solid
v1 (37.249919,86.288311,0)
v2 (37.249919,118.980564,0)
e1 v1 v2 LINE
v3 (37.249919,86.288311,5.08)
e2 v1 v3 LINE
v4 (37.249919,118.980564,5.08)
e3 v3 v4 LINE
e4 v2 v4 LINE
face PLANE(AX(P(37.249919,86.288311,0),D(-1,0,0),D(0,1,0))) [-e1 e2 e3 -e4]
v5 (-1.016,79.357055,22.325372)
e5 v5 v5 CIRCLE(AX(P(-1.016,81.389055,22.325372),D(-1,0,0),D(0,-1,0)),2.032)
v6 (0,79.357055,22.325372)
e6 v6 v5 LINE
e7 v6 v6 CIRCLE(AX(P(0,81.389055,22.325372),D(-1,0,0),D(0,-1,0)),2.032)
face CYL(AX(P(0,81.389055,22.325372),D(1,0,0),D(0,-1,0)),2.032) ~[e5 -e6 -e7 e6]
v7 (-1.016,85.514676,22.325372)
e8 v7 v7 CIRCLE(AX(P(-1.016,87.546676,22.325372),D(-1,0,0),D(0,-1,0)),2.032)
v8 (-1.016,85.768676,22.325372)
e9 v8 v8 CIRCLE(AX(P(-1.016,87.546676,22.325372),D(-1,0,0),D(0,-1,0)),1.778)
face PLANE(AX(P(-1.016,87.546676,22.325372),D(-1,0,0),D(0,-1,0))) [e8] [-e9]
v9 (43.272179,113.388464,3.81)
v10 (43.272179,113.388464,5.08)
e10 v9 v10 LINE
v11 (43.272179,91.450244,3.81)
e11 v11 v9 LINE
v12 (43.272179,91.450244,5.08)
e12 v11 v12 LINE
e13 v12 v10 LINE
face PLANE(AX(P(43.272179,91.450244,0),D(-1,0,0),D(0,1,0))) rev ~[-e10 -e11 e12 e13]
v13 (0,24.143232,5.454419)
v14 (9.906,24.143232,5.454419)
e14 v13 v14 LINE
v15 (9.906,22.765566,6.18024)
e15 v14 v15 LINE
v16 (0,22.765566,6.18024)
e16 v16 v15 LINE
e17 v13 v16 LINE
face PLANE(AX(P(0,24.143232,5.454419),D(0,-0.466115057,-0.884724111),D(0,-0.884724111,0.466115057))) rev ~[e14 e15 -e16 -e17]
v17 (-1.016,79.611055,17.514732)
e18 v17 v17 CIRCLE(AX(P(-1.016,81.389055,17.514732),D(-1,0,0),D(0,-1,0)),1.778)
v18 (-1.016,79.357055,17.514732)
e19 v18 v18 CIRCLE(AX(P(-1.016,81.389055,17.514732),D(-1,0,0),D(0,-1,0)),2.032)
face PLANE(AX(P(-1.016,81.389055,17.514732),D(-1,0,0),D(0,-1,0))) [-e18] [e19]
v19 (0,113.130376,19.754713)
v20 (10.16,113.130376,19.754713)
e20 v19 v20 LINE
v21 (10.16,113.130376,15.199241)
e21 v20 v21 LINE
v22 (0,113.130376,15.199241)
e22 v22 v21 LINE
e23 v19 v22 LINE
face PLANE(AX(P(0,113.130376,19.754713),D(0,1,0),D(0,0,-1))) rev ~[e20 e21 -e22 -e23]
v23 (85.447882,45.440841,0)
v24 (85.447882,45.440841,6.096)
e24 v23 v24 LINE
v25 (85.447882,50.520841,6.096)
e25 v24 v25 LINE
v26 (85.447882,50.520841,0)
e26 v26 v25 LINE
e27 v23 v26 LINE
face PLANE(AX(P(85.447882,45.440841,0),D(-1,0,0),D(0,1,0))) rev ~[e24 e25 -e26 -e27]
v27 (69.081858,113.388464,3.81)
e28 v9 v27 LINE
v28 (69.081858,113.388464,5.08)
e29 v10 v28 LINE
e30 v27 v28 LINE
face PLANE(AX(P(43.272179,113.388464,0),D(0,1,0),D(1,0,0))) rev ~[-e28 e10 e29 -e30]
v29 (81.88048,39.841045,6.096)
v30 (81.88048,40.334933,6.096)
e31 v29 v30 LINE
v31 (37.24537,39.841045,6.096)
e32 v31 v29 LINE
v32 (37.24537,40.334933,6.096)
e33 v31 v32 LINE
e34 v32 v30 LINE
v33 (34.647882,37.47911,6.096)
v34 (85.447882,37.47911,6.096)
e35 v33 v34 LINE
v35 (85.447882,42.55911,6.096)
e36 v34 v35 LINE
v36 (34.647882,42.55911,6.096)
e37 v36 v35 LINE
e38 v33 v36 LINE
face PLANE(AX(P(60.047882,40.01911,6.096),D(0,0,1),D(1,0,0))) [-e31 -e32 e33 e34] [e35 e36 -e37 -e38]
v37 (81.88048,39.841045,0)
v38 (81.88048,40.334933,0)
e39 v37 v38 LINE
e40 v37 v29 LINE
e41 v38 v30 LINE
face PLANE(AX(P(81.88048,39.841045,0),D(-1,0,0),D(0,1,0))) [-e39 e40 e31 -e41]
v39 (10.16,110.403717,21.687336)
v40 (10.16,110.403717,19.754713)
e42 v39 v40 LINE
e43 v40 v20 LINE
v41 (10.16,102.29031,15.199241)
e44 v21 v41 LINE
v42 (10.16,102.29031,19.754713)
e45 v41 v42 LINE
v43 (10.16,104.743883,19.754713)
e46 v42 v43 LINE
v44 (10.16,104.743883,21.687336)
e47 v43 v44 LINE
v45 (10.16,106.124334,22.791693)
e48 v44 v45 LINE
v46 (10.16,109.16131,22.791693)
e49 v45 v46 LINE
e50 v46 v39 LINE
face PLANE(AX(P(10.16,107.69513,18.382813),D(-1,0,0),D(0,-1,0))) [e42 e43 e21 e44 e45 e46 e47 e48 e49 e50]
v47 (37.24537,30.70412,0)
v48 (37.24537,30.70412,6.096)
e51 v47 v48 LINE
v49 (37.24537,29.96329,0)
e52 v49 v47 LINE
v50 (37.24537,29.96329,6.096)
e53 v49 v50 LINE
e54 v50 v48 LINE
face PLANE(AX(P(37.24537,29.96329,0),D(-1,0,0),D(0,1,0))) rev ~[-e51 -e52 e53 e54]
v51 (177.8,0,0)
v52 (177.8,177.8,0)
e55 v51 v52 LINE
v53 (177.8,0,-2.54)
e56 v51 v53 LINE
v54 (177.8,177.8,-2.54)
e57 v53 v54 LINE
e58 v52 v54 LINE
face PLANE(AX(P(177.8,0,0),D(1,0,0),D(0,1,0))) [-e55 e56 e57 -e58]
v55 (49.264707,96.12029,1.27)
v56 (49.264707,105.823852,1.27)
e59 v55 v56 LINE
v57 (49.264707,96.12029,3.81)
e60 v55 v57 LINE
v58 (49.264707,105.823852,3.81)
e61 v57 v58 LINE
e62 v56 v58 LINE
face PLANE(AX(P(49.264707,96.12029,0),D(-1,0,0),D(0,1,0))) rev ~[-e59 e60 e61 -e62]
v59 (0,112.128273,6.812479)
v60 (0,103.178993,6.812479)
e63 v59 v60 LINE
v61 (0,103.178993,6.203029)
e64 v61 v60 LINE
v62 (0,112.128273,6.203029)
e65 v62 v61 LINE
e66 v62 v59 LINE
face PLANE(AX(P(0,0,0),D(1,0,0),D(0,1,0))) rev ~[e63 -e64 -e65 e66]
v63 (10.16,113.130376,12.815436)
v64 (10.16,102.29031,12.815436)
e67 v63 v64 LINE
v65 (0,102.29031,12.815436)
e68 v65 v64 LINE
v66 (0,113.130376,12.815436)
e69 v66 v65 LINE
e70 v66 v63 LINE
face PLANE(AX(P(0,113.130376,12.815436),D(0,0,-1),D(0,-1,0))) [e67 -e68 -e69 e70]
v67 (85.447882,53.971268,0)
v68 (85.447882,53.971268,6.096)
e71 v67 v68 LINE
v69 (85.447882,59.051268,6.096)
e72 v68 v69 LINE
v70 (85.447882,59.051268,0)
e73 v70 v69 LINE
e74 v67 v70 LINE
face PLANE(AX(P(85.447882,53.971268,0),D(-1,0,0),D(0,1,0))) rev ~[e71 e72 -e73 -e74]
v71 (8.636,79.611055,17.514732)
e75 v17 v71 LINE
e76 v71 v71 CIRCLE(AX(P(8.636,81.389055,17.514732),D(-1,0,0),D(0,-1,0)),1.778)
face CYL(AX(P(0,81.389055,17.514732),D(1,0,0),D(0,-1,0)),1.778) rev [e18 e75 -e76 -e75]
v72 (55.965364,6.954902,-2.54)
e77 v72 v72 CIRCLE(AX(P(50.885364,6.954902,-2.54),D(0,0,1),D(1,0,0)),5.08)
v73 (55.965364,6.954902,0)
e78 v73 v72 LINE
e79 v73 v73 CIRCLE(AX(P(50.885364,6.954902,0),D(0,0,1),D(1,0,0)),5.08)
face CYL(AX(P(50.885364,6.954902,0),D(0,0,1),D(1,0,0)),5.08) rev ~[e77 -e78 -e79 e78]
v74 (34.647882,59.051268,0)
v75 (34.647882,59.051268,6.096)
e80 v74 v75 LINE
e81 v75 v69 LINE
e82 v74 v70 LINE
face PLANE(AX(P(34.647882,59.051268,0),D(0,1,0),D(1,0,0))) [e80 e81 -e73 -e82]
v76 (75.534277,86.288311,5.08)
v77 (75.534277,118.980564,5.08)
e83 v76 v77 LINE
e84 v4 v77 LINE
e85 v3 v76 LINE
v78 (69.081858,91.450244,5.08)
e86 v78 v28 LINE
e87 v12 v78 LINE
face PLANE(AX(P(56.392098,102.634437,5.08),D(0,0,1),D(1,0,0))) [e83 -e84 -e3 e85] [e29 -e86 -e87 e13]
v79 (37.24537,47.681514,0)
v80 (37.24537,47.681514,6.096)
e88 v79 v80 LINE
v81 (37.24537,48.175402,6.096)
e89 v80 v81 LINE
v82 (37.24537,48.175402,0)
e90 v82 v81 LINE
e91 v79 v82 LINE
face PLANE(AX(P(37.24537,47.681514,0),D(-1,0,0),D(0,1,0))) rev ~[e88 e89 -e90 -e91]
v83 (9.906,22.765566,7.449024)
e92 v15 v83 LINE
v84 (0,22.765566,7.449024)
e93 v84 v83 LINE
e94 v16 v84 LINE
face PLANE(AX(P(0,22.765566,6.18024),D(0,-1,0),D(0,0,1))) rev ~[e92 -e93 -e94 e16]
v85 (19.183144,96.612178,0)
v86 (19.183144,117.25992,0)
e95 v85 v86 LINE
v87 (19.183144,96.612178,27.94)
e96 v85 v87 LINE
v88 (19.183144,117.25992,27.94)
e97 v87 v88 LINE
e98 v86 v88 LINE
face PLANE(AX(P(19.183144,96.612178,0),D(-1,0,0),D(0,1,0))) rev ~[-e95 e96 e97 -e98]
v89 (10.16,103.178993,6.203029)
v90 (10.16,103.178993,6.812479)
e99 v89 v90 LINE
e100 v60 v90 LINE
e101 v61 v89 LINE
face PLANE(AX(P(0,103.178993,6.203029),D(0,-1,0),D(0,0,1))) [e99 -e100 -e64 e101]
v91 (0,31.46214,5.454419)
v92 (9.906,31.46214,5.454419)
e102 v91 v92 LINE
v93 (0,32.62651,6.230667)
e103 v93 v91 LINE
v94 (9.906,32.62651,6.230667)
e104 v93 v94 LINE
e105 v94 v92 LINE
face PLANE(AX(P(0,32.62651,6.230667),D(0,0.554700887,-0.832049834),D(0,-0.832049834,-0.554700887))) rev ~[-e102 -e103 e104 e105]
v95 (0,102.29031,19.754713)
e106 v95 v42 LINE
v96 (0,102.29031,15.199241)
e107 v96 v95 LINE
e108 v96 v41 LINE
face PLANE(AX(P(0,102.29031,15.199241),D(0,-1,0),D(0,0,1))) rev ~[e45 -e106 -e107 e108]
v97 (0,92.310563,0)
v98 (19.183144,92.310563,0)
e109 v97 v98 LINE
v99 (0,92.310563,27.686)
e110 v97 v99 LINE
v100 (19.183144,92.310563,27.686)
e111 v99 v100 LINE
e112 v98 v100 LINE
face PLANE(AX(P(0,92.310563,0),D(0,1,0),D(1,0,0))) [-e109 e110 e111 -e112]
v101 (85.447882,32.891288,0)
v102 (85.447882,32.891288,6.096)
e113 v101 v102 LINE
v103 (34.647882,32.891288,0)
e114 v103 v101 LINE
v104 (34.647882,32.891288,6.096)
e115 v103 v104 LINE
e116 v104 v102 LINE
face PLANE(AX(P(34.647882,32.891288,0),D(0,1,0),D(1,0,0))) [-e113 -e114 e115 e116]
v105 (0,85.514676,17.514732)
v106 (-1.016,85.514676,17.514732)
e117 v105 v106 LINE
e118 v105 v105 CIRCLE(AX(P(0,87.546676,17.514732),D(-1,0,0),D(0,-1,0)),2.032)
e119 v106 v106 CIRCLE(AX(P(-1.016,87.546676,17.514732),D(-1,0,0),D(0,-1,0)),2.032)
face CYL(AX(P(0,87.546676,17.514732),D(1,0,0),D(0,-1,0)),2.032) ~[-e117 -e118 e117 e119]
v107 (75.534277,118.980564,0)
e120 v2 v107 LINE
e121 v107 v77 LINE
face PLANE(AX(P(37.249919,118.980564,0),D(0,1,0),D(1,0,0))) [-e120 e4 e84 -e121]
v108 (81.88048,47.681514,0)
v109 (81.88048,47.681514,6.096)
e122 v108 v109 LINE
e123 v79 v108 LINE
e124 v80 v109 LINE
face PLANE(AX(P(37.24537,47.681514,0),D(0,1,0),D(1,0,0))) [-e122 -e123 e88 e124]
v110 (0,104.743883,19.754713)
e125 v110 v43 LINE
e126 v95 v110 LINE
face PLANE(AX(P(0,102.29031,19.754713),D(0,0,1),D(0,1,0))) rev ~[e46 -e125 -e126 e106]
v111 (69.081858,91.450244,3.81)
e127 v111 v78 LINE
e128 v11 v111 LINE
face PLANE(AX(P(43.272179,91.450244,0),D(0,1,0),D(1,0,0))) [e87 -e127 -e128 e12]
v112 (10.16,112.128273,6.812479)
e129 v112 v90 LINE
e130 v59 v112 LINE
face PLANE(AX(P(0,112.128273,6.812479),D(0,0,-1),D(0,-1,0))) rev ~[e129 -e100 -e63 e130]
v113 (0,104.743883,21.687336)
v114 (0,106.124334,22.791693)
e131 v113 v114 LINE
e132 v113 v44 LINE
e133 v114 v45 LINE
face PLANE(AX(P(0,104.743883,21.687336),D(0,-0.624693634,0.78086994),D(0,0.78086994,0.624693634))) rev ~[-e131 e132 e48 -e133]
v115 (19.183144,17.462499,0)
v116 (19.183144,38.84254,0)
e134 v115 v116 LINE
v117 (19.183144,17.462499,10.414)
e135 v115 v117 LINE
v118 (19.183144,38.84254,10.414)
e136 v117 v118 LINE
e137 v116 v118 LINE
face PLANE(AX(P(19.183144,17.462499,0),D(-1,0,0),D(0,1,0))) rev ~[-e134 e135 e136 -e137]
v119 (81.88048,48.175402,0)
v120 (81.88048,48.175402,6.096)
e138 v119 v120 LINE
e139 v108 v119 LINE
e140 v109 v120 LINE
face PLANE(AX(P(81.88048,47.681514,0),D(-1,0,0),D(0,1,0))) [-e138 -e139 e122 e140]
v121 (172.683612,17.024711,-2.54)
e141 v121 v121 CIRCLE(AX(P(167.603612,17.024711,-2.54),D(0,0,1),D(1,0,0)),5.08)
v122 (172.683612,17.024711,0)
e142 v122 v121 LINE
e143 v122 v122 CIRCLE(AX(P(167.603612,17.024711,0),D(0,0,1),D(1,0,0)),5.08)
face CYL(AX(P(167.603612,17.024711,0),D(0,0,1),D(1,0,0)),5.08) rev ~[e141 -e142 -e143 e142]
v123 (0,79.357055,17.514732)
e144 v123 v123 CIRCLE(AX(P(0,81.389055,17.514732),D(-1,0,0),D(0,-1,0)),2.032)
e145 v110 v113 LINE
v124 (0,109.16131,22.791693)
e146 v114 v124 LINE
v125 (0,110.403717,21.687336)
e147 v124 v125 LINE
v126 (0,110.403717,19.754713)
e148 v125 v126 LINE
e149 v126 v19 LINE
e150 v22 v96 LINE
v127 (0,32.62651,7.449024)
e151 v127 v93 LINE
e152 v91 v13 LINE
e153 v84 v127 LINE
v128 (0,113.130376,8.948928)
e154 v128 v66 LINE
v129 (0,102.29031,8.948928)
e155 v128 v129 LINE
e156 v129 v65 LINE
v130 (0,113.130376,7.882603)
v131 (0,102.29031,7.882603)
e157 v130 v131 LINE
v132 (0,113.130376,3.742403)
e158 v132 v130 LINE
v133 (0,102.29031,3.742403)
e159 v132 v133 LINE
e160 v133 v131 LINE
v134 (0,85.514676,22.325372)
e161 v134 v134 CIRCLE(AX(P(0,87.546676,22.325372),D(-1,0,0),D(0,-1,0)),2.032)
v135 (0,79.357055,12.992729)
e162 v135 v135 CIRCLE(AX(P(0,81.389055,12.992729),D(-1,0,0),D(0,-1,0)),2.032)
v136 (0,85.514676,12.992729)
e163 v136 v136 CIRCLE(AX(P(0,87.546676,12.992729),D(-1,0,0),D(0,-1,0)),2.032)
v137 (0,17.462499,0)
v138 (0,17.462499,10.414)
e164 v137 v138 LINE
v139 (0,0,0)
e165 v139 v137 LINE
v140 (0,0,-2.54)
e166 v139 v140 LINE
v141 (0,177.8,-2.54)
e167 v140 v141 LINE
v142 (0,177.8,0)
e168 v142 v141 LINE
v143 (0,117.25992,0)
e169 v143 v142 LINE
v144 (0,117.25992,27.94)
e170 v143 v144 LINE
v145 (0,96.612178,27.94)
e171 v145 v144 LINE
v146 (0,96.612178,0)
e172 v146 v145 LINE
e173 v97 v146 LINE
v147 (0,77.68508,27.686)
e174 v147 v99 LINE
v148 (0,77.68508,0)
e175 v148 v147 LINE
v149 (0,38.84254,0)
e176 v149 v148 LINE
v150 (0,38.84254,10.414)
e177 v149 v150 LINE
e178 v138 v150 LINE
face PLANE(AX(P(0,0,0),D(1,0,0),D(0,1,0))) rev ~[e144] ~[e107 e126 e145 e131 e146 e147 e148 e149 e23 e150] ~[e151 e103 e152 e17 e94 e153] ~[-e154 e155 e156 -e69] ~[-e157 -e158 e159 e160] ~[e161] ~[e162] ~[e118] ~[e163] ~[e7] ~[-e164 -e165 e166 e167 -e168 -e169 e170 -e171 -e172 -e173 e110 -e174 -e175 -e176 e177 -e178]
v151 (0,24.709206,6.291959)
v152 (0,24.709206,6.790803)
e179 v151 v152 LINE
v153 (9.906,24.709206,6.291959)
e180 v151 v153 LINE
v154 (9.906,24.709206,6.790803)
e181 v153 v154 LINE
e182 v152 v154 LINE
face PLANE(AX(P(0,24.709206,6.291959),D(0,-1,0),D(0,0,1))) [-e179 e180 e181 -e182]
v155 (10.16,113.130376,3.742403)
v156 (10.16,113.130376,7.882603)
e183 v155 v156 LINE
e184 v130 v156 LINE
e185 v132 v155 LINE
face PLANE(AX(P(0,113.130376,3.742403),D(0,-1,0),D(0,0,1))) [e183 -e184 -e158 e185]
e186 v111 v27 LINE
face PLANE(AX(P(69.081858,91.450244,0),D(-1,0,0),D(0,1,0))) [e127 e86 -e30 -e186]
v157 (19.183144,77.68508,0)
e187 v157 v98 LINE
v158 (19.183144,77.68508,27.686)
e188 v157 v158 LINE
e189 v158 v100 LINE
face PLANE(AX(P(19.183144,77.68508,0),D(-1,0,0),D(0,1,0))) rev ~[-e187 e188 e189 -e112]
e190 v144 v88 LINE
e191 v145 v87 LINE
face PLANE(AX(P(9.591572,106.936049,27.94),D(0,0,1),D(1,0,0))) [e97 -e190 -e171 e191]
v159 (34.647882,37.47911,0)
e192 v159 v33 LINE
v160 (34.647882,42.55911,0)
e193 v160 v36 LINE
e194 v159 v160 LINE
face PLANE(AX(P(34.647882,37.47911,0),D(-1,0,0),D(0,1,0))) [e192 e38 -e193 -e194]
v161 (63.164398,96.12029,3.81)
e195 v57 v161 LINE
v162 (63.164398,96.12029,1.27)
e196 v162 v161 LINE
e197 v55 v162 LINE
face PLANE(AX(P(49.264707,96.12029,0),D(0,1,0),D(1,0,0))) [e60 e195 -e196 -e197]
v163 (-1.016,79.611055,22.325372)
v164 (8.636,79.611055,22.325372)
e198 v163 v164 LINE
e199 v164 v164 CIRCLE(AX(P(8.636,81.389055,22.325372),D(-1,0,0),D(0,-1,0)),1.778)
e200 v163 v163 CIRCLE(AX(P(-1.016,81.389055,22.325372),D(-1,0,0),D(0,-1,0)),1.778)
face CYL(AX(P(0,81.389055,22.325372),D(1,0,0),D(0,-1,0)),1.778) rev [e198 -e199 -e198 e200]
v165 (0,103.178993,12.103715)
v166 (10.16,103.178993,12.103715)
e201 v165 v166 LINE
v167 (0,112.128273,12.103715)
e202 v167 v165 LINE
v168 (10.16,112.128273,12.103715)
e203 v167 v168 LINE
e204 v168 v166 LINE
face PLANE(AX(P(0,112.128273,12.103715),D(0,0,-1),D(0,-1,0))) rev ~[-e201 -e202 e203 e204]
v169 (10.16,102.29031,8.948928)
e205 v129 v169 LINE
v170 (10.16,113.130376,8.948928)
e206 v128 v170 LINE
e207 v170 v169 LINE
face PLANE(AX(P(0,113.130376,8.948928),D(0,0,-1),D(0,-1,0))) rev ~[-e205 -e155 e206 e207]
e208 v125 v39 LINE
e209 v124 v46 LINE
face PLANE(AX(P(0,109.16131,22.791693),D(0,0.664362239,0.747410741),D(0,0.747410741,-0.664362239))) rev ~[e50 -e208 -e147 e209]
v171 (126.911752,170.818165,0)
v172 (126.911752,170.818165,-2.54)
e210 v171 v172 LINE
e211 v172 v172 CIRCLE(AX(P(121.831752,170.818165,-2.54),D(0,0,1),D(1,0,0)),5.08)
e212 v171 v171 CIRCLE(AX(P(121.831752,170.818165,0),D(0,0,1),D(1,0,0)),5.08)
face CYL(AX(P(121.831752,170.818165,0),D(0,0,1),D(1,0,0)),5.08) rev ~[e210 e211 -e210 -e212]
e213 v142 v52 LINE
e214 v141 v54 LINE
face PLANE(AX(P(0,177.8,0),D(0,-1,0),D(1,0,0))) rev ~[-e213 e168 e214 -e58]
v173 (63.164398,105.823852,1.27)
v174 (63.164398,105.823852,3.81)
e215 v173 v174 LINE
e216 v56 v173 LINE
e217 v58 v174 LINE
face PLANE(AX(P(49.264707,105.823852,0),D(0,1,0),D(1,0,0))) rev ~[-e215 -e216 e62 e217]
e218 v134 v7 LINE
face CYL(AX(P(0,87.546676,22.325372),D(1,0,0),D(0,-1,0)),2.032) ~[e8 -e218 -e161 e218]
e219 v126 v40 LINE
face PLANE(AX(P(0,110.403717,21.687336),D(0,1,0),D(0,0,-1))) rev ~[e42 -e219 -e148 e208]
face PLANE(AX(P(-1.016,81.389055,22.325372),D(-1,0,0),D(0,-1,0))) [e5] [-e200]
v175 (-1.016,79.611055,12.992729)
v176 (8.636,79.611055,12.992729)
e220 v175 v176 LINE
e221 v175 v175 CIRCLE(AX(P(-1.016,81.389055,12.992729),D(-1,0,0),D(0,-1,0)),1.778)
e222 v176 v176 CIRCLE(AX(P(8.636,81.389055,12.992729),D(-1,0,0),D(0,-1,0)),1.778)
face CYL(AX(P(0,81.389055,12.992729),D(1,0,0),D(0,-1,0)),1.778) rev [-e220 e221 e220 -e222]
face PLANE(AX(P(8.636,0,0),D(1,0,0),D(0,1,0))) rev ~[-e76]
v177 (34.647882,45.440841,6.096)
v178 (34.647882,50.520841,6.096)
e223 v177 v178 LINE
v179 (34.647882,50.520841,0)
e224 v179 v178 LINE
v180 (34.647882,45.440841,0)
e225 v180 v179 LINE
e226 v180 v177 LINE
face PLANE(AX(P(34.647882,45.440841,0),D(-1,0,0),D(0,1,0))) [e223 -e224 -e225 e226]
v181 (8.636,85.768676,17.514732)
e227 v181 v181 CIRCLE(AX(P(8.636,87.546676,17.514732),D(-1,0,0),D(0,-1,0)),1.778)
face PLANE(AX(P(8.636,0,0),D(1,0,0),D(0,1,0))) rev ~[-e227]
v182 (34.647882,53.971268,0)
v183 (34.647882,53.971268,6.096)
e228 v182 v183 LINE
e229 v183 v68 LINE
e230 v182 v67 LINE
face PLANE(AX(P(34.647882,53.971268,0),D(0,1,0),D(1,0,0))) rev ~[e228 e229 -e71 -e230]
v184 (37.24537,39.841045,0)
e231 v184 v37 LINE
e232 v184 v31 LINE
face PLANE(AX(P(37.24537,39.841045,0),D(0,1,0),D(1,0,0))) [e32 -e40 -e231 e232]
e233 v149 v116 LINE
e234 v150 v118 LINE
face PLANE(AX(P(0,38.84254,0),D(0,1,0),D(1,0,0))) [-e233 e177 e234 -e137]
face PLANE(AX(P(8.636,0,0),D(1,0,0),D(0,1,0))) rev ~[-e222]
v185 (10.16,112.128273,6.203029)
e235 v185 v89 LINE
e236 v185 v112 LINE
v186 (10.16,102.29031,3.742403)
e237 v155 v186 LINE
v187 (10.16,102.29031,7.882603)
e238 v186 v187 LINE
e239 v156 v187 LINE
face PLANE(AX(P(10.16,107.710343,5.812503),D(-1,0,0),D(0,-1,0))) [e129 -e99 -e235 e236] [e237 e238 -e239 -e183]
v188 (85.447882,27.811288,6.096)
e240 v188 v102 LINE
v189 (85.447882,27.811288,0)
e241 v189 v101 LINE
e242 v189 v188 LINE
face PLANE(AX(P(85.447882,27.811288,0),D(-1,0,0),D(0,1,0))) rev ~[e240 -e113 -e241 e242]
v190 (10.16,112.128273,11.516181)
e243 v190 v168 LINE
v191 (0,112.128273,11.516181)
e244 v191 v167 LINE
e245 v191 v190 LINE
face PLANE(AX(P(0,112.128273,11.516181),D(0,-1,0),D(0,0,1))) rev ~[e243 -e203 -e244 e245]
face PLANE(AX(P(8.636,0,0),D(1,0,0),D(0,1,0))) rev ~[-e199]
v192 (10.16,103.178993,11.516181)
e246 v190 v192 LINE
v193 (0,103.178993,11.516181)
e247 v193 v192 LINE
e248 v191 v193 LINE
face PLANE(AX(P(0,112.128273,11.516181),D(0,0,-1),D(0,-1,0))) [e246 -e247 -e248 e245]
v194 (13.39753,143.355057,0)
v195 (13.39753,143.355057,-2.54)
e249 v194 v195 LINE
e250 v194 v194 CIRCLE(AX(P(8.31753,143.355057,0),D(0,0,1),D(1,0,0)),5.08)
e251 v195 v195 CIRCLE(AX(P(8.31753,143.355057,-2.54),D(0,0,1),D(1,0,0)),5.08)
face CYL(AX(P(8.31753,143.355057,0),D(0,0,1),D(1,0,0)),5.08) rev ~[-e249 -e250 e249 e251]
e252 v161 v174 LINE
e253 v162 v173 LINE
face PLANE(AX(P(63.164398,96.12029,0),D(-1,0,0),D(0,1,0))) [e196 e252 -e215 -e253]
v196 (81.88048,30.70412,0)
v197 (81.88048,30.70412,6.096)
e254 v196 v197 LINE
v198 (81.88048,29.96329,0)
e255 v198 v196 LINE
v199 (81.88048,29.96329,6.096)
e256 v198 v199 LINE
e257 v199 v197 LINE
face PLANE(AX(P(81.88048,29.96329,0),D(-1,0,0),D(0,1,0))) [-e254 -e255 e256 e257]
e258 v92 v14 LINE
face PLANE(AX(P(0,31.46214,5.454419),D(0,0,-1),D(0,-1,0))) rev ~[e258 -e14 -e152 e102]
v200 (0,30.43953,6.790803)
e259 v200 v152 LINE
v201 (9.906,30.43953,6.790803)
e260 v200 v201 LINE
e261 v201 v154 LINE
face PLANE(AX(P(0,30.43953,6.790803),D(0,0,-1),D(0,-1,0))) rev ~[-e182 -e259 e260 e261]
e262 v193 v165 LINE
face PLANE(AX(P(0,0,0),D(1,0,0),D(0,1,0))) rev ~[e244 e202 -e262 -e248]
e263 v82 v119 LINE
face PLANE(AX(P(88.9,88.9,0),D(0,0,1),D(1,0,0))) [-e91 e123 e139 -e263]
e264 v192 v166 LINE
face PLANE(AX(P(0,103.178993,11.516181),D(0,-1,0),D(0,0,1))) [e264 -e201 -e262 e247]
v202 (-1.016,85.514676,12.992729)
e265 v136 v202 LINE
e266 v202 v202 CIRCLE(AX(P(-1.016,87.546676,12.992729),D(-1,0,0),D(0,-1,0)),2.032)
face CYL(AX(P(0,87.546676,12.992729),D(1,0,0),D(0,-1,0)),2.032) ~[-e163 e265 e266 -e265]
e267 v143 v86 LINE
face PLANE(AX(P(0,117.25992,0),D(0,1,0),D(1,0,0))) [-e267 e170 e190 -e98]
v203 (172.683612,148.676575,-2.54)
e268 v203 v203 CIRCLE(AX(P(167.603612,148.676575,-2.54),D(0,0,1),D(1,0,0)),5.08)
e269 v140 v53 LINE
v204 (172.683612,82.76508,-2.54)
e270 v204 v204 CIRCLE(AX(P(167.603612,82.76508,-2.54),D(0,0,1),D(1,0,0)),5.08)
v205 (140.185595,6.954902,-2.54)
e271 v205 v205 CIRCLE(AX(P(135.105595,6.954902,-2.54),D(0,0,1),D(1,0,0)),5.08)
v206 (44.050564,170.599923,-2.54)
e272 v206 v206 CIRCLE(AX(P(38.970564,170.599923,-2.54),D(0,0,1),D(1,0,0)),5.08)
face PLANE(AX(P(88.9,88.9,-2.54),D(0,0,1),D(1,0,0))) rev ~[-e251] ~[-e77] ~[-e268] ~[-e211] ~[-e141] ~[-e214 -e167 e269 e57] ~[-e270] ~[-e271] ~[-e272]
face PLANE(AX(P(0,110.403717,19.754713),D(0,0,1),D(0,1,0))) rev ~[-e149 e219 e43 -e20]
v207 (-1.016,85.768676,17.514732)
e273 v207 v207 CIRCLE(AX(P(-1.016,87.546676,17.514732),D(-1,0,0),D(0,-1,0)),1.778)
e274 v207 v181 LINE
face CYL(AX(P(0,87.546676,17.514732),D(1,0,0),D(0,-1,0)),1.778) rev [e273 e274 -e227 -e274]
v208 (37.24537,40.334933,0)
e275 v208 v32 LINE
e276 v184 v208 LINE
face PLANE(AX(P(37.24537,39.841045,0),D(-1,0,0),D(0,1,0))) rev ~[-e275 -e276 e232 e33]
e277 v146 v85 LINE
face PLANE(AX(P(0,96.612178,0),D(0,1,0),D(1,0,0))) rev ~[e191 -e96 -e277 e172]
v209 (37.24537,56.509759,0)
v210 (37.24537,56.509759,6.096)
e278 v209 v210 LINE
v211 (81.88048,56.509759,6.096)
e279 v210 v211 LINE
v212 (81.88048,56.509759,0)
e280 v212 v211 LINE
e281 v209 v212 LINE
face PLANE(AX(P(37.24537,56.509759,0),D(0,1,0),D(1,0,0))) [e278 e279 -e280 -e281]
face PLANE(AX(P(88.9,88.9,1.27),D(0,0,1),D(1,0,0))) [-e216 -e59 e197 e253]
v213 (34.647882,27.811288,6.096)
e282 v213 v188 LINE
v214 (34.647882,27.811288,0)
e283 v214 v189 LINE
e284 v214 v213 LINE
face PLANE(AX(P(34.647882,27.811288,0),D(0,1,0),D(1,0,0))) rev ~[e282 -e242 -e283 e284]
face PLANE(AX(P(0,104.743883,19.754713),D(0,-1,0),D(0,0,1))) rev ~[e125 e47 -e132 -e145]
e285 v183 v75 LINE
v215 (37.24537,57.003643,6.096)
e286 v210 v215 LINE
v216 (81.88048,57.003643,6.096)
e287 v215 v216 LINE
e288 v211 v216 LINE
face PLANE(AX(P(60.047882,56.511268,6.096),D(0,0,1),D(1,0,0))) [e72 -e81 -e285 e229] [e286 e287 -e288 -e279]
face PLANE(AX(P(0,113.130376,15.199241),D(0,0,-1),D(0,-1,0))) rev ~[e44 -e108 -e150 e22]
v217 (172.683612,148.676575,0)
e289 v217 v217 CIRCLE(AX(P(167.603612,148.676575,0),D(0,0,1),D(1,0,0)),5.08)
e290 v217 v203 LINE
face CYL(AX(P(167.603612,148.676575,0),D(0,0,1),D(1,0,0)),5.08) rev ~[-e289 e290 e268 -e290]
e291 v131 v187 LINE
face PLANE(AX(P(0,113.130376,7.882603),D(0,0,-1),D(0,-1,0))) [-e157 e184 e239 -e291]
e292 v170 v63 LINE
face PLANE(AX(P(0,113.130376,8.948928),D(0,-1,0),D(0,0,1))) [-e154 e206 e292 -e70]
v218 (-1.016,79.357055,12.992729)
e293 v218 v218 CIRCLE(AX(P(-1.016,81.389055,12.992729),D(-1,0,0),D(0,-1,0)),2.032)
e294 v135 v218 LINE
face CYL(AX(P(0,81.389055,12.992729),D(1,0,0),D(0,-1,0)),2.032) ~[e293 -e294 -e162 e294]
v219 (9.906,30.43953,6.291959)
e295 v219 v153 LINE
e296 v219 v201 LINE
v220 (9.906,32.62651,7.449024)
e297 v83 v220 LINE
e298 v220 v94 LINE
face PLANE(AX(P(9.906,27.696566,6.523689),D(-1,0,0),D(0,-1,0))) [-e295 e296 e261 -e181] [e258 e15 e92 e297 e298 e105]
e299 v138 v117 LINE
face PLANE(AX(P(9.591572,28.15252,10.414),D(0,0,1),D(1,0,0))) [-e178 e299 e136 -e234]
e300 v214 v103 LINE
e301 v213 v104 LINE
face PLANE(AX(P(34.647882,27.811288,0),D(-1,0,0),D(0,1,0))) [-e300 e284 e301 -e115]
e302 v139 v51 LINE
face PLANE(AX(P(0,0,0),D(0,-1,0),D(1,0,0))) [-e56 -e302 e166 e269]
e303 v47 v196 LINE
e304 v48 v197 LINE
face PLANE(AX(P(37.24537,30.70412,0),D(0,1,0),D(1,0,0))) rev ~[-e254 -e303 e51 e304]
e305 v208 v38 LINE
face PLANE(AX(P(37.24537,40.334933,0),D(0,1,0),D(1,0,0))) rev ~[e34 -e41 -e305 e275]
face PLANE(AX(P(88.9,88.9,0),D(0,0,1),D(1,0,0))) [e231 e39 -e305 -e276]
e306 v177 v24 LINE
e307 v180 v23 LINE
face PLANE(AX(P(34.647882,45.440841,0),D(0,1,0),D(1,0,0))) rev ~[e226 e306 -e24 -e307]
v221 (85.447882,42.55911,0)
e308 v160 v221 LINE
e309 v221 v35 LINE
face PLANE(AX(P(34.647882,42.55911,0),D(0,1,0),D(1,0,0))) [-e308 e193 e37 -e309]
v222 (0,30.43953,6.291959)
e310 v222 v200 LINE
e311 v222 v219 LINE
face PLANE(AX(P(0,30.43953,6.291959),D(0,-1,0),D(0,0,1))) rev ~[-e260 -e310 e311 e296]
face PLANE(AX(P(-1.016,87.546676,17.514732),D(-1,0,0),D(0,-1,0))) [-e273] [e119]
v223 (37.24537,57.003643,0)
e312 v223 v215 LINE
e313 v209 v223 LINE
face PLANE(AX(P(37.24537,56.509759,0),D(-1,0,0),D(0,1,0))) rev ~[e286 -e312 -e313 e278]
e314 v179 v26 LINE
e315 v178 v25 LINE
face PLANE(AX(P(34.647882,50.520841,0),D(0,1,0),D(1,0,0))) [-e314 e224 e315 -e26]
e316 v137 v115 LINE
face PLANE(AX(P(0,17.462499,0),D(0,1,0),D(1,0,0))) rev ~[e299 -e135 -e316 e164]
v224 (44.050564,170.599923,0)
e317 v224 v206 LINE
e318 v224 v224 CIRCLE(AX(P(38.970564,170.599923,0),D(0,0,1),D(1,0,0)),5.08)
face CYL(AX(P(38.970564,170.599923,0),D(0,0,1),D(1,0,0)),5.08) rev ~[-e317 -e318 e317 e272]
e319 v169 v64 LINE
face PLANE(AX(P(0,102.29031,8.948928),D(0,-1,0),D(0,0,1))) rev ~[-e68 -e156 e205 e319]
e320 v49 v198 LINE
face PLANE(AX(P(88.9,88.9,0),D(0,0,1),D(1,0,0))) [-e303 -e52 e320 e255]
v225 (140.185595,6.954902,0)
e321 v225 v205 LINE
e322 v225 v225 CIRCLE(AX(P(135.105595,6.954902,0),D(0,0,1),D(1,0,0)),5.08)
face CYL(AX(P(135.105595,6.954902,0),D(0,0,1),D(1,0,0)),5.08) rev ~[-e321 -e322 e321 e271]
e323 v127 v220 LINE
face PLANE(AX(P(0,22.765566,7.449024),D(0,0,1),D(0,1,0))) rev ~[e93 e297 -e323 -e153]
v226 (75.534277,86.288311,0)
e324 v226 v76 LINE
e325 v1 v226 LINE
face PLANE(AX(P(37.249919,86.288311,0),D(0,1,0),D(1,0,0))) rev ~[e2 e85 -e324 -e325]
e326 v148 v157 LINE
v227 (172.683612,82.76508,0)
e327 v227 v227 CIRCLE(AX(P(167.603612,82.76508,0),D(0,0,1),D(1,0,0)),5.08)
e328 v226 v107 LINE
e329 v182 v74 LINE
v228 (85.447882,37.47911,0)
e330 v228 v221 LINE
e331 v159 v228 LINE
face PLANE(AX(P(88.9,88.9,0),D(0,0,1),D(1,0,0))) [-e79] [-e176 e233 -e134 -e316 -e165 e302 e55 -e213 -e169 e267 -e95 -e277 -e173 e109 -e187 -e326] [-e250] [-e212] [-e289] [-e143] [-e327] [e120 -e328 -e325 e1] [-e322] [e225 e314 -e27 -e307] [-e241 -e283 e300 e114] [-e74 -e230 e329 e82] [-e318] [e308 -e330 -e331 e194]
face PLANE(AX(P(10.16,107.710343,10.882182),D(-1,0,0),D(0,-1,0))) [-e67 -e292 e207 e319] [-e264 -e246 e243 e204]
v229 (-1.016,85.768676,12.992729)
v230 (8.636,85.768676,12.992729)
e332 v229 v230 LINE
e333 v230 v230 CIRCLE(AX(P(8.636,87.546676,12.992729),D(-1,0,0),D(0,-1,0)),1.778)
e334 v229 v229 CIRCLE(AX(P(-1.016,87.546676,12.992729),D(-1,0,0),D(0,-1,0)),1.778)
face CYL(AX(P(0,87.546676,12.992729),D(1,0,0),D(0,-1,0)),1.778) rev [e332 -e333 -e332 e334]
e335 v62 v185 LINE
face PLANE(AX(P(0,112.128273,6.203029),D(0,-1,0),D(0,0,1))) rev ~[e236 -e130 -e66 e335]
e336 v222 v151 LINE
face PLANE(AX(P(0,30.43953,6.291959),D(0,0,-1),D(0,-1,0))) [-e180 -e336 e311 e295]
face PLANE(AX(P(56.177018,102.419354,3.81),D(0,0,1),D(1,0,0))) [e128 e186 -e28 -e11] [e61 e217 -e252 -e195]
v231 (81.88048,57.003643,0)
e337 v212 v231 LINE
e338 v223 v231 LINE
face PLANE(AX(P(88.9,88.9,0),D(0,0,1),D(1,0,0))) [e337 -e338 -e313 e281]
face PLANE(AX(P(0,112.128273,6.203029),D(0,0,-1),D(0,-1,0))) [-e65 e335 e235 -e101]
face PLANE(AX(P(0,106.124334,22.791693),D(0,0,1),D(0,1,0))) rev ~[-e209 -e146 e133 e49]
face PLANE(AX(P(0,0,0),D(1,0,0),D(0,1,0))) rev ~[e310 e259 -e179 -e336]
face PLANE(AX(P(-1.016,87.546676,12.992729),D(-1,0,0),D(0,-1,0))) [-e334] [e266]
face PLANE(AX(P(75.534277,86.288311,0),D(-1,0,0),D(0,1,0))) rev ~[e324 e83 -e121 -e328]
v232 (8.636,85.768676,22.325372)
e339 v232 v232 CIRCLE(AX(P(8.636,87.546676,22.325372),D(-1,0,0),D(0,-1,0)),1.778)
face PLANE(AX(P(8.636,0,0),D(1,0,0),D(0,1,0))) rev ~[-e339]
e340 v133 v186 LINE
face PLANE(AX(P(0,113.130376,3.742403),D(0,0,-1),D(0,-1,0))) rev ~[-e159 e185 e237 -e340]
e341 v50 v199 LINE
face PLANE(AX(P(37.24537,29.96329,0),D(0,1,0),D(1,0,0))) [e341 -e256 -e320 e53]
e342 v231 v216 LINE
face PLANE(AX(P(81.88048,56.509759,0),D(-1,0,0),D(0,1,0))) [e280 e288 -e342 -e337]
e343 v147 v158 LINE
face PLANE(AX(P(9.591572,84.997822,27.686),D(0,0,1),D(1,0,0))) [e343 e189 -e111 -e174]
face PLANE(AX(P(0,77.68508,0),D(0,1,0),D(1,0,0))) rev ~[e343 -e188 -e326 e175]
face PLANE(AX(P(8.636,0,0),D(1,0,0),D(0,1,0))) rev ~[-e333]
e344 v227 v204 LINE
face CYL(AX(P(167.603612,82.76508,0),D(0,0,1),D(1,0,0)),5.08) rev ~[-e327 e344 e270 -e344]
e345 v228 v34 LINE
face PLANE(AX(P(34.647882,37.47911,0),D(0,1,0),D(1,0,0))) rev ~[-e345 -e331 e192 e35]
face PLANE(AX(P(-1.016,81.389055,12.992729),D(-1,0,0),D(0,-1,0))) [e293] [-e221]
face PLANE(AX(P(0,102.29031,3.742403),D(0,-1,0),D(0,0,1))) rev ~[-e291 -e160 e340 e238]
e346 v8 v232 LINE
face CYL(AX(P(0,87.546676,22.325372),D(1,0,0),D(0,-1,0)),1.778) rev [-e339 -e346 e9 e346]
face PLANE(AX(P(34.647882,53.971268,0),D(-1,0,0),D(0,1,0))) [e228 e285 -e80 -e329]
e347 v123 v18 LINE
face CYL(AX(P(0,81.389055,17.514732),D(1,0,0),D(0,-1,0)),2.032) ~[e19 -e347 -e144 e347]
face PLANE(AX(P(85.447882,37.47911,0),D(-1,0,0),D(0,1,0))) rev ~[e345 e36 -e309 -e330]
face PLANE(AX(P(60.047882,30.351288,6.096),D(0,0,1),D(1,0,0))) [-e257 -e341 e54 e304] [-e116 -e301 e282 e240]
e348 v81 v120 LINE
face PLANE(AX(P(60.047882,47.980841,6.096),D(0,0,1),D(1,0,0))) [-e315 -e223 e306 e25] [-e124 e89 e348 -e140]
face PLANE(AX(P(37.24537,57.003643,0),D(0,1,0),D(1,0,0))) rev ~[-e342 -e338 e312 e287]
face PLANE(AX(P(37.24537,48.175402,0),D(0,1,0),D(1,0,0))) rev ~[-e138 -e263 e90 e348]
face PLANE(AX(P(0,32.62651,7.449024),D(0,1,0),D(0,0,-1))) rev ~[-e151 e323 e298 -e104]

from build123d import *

# Parameters (mm, degrees)
F0_W      = 177.8
F0_H      = 177.8
F1_DEPTH  = 2.54
F2_W      = 19.1831439734
F2_H      = 20.6477418542
F3_DEPTH  = 27.94
F4_W      = 10.8400657773
F4_H      = 3.8665086031
F4_W_2    = 8.9492797852
F4_H_2    = 0.5875341594
F4_H_3    = 4.1402
F4_H_4    = 0.6094495766
F5_DEPTH  = 10.16
F6_W      = 19.1831439734
F6_H      = 14.6254822612
F7_DEPTH  = 27.686
F8_R      = 2.032
F8_R_2    = 1.778
F9_DEPTH  = 1.016
F10_DEPTH = 8.636
F11_W     = 19.1831439734
F11_H     = 21.3800407946
F12_DEPTH = 10.414
F13_W     = 5.7303234935
F13_H     = 0.4988447763
F14_DEPTH = 9.906
F15_R     = 5.08
F16_DEPTH = 2.54
F17_W     = 38.2843576372
F17_H     = 32.6922535896
F17_W_2   = 25.8096791804
F17_H_2   = 21.9382196665
F18_DEPTH = 5.08
F17_W_3   = 13.8996914029
F17_H_3   = 9.7035616636
F19_DEPTH = 3.81
F20_DEPTH = 1.27
F21_W     = 50.8
F21_H     = 5.08
F21_W_2   = 44.6351096034
F21_H_2   = 0.4938840866
F21_H_3   = 0.4938878119
F21_H_4   = 0.7408298552
F22_DEPTH = 6.096


with BuildPart() as f1:
    # F0 (on Top) → F1 (new body)
    with BuildSketch(Plane.XY):
        with Locations((88.9, 88.9)):
            Rectangle(F0_W, F0_H)
    extrude(amount=-F1_DEPTH)

    # F2 (on face) → F3 (join)
    with BuildSketch(Plane.XY):
        with Locations((9.5915719867, 106.9360487163)):
            Rectangle(F2_W, F2_H)
    extrude(amount=F3_DEPTH)

    # F4 (on face) → F5 (cut)
    with BuildSketch(Plane(origin=(0, 0, 0), x_dir=(0, -1, 0), z_dir=(-1, 0, 0))):
        Polygon((-113.1303757429, 19.7547134012), (-113.1303757429, 15.1992412284), (-102.2903099656, 15.1992412284), (-102.2903099656, 19.7547134012), (-104.7438830137, 19.7547134012), (-104.7438830137, 21.687336266), (-106.1243340373, 22.7916929871), (-109.1613098979, 22.7916929871), (-110.4037165642, 21.687336266), (-110.4037165642, 19.7547134012), align=None)
        with Locations((-107.7103428543, 10.8821820468)):
            Rectangle(F4_W, F4_H)
        with Locations((-107.65363276, 11.8099479005)):
            Rectangle(F4_W_2, F4_H_2, mode=Mode.SUBTRACT)
        with Locations((-107.7103428543, 5.8125033508)):
            Rectangle(F4_W, F4_H_3)
        with Locations((-107.65363276, 6.507754093)):
            Rectangle(F4_W_2, F4_H_4, mode=Mode.SUBTRACT)
    extrude(amount=-F5_DEPTH, mode=Mode.SUBTRACT)

    # F6 (on face) → F7 (join)
    with BuildSketch(Plane.XY):
        with Locations((9.5915719867, 84.9978215992)):
            Rectangle(F6_W, F6_H)
    extrude(amount=F7_DEPTH)

    # F8 (on face) → F9 (join)
    with BuildSketch(Plane(origin=(0, 0, 0), x_dir=(0, -1, 0), z_dir=(-1, 0, 0))):
        with Locations((-81.389054656, 22.3253723234)):
            Circle(F8_R)
        with Locations((-81.389054656, 22.3253723234)):
            Circle(F8_R_2, mode=Mode.SUBTRACT)
        with Locations((-87.5466763973, 22.3253723234)):
            Circle(F8_R)
        with Locations((-87.5466763973, 22.3253723234)):
            Circle(F8_R_2, mode=Mode.SUBTRACT)
        with Locations((-81.389054656, 17.514731735)):
            Circle(F8_R)
        with Locations((-81.389054656, 17.514731735)):
            Circle(F8_R_2, mode=Mode.SUBTRACT)
        with Locations((-87.5466763973, 17.514731735)):
            Circle(F8_R)
        with Locations((-87.5466763973, 17.514731735)):
            Circle(F8_R_2, mode=Mode.SUBTRACT)
        with Locations((-87.5466763973, 12.9927285016)):
            Circle(F8_R)
        with Locations((-87.5466763973, 12.9927285016)):
            Circle(F8_R_2, mode=Mode.SUBTRACT)
        with Locations((-81.389054656, 12.9927285016)):
            Circle(F8_R)
        with Locations((-81.389054656, 12.9927285016)):
            Circle(F8_R_2, mode=Mode.SUBTRACT)
    extrude(amount=F9_DEPTH)

    # F10 (cut): faces of the model
    f10_faces = [f1.faces().sort_by_distance(p)[0] for p in [
        (0, 87.5466763973, 22.3253723234),
        (0, 81.389054656, 22.3253723234),
        (0, 81.389054656, 17.514731735),
        (0, 87.5466763973, 17.514731735),
        (0, 87.5466763973, 12.9927285016),
        (0, 81.389054656, 12.9927285016),
    ]]
    extrude(f10_faces, amount=-F10_DEPTH, mode=Mode.SUBTRACT)

    # F11 (on face) → F12 (join)
    with BuildSketch(Plane.XY):
        with Locations((9.5915719867, 28.152519837)):
            Rectangle(F11_W, F11_H)
    extrude(amount=F12_DEPTH)

    # F13 (on face) → F14 (cut)
    with BuildSketch(Plane(origin=(0, 0, 0), x_dir=(0, -1, 0), z_dir=(-1, 0, 0))):
        Polygon((-22.7655656636, 7.4490238912), (-32.3871783912, 7.4490238912), (-32.6265096664, 7.4490238912), (-32.6265096664, 6.2306667678), (-31.4621403813, 5.4544191808), (-24.1432320327, 5.4544191808), (-22.7655656636, 6.1802398413), align=None)
        with Locations((-27.5743678212, 6.5413808916)):
            Rectangle(F13_W, F13_H, mode=Mode.SUBTRACT)
    extrude(amount=-F14_DEPTH, mode=Mode.SUBTRACT)

    # F15 (on face) → F16 (cut)
    with BuildSketch(Plane.XY):
        with Locations((8.3175301552, 143.3550566435)):
            Circle(F15_R)
        with Locations((38.9705635607, 170.5999225378)):
            Circle(F15_R)
        with Locations((121.8317523599, 170.8181649446)):
            Circle(F15_R)
        with Locations((167.6036119461, 148.6765746641)):
            Circle(F15_R)
        with Locations((167.6036119461, 82.7650804687)):
            Circle(F15_R)
        with Locations((167.6036119461, 17.0247107744)):
            Circle(F15_R)
        with Locations((135.1055949926, 6.9549023174)):
            Circle(F15_R)
        with Locations((50.8853644133, 6.9549023174)):
            Circle(F15_R)
    extrude(amount=-F16_DEPTH, mode=Mode.SUBTRACT)

    # F17 (on face) → F18 (join)
    with BuildSketch(Plane.XY):
        with Locations((56.3920978457, 102.6344373822)):
            Rectangle(F17_W, F17_H)
        with Locations((56.1770182103, 102.4193540215)):
            Rectangle(F17_W_2, F17_H_2, mode=Mode.SUBTRACT)
    extrude(amount=F18_DEPTH)

    # F17 (on face) → F19 (join)
    with BuildSketch(Plane.XY):
        with Locations((56.1770182103, 102.4193540215)):
            Rectangle(F17_W_2, F17_H_2)
        with Locations((56.2145523727, 100.97207129)):
            Rectangle(F17_W_3, F17_H_3, mode=Mode.SUBTRACT)
    extrude(amount=F19_DEPTH)

    # F20 (add): a face of the model
    f20_faces = [f1.faces().sort_by_distance(p)[0] for p in [
        (56.2145523727, 100.97207129, 0),
    ]]
    extrude(f20_faces, amount=F20_DEPTH)

    # F21 (on face) → F22 (join)
    with BuildSketch(Plane.XY):
        with Locations((60.0478819847, 56.5112678027)):
            Rectangle(F21_W, F21_H)
        with Locations((59.5629252493, 56.7567013204)):
            Rectangle(F21_W_2, F21_H_2, mode=Mode.SUBTRACT)
        with Locations((60.0478819847, 47.9808410323)):
            Rectangle(F21_W, F21_H)
        with Locations((59.5629252493, 47.9284580797)):
            Rectangle(F21_W_2, F21_H_3, mode=Mode.SUBTRACT)
        with Locations((60.0478819847, 40.0191096282)):
            Rectangle(F21_W, F21_H)
        with Locations((59.5629252493, 40.0879886001)):
            Rectangle(F21_W_2, F21_H_3, mode=Mode.SUBTRACT)
        with Locations((60.0478819847, 30.3512883997)):
            Rectangle(F21_W, F21_H)
        with Locations((59.5629252493, 30.3337052464)):
            Rectangle(F21_W_2, F21_H_4, mode=Mode.SUBTRACT)
    extrude(amount=F22_DEPTH)


solid = f1.part
